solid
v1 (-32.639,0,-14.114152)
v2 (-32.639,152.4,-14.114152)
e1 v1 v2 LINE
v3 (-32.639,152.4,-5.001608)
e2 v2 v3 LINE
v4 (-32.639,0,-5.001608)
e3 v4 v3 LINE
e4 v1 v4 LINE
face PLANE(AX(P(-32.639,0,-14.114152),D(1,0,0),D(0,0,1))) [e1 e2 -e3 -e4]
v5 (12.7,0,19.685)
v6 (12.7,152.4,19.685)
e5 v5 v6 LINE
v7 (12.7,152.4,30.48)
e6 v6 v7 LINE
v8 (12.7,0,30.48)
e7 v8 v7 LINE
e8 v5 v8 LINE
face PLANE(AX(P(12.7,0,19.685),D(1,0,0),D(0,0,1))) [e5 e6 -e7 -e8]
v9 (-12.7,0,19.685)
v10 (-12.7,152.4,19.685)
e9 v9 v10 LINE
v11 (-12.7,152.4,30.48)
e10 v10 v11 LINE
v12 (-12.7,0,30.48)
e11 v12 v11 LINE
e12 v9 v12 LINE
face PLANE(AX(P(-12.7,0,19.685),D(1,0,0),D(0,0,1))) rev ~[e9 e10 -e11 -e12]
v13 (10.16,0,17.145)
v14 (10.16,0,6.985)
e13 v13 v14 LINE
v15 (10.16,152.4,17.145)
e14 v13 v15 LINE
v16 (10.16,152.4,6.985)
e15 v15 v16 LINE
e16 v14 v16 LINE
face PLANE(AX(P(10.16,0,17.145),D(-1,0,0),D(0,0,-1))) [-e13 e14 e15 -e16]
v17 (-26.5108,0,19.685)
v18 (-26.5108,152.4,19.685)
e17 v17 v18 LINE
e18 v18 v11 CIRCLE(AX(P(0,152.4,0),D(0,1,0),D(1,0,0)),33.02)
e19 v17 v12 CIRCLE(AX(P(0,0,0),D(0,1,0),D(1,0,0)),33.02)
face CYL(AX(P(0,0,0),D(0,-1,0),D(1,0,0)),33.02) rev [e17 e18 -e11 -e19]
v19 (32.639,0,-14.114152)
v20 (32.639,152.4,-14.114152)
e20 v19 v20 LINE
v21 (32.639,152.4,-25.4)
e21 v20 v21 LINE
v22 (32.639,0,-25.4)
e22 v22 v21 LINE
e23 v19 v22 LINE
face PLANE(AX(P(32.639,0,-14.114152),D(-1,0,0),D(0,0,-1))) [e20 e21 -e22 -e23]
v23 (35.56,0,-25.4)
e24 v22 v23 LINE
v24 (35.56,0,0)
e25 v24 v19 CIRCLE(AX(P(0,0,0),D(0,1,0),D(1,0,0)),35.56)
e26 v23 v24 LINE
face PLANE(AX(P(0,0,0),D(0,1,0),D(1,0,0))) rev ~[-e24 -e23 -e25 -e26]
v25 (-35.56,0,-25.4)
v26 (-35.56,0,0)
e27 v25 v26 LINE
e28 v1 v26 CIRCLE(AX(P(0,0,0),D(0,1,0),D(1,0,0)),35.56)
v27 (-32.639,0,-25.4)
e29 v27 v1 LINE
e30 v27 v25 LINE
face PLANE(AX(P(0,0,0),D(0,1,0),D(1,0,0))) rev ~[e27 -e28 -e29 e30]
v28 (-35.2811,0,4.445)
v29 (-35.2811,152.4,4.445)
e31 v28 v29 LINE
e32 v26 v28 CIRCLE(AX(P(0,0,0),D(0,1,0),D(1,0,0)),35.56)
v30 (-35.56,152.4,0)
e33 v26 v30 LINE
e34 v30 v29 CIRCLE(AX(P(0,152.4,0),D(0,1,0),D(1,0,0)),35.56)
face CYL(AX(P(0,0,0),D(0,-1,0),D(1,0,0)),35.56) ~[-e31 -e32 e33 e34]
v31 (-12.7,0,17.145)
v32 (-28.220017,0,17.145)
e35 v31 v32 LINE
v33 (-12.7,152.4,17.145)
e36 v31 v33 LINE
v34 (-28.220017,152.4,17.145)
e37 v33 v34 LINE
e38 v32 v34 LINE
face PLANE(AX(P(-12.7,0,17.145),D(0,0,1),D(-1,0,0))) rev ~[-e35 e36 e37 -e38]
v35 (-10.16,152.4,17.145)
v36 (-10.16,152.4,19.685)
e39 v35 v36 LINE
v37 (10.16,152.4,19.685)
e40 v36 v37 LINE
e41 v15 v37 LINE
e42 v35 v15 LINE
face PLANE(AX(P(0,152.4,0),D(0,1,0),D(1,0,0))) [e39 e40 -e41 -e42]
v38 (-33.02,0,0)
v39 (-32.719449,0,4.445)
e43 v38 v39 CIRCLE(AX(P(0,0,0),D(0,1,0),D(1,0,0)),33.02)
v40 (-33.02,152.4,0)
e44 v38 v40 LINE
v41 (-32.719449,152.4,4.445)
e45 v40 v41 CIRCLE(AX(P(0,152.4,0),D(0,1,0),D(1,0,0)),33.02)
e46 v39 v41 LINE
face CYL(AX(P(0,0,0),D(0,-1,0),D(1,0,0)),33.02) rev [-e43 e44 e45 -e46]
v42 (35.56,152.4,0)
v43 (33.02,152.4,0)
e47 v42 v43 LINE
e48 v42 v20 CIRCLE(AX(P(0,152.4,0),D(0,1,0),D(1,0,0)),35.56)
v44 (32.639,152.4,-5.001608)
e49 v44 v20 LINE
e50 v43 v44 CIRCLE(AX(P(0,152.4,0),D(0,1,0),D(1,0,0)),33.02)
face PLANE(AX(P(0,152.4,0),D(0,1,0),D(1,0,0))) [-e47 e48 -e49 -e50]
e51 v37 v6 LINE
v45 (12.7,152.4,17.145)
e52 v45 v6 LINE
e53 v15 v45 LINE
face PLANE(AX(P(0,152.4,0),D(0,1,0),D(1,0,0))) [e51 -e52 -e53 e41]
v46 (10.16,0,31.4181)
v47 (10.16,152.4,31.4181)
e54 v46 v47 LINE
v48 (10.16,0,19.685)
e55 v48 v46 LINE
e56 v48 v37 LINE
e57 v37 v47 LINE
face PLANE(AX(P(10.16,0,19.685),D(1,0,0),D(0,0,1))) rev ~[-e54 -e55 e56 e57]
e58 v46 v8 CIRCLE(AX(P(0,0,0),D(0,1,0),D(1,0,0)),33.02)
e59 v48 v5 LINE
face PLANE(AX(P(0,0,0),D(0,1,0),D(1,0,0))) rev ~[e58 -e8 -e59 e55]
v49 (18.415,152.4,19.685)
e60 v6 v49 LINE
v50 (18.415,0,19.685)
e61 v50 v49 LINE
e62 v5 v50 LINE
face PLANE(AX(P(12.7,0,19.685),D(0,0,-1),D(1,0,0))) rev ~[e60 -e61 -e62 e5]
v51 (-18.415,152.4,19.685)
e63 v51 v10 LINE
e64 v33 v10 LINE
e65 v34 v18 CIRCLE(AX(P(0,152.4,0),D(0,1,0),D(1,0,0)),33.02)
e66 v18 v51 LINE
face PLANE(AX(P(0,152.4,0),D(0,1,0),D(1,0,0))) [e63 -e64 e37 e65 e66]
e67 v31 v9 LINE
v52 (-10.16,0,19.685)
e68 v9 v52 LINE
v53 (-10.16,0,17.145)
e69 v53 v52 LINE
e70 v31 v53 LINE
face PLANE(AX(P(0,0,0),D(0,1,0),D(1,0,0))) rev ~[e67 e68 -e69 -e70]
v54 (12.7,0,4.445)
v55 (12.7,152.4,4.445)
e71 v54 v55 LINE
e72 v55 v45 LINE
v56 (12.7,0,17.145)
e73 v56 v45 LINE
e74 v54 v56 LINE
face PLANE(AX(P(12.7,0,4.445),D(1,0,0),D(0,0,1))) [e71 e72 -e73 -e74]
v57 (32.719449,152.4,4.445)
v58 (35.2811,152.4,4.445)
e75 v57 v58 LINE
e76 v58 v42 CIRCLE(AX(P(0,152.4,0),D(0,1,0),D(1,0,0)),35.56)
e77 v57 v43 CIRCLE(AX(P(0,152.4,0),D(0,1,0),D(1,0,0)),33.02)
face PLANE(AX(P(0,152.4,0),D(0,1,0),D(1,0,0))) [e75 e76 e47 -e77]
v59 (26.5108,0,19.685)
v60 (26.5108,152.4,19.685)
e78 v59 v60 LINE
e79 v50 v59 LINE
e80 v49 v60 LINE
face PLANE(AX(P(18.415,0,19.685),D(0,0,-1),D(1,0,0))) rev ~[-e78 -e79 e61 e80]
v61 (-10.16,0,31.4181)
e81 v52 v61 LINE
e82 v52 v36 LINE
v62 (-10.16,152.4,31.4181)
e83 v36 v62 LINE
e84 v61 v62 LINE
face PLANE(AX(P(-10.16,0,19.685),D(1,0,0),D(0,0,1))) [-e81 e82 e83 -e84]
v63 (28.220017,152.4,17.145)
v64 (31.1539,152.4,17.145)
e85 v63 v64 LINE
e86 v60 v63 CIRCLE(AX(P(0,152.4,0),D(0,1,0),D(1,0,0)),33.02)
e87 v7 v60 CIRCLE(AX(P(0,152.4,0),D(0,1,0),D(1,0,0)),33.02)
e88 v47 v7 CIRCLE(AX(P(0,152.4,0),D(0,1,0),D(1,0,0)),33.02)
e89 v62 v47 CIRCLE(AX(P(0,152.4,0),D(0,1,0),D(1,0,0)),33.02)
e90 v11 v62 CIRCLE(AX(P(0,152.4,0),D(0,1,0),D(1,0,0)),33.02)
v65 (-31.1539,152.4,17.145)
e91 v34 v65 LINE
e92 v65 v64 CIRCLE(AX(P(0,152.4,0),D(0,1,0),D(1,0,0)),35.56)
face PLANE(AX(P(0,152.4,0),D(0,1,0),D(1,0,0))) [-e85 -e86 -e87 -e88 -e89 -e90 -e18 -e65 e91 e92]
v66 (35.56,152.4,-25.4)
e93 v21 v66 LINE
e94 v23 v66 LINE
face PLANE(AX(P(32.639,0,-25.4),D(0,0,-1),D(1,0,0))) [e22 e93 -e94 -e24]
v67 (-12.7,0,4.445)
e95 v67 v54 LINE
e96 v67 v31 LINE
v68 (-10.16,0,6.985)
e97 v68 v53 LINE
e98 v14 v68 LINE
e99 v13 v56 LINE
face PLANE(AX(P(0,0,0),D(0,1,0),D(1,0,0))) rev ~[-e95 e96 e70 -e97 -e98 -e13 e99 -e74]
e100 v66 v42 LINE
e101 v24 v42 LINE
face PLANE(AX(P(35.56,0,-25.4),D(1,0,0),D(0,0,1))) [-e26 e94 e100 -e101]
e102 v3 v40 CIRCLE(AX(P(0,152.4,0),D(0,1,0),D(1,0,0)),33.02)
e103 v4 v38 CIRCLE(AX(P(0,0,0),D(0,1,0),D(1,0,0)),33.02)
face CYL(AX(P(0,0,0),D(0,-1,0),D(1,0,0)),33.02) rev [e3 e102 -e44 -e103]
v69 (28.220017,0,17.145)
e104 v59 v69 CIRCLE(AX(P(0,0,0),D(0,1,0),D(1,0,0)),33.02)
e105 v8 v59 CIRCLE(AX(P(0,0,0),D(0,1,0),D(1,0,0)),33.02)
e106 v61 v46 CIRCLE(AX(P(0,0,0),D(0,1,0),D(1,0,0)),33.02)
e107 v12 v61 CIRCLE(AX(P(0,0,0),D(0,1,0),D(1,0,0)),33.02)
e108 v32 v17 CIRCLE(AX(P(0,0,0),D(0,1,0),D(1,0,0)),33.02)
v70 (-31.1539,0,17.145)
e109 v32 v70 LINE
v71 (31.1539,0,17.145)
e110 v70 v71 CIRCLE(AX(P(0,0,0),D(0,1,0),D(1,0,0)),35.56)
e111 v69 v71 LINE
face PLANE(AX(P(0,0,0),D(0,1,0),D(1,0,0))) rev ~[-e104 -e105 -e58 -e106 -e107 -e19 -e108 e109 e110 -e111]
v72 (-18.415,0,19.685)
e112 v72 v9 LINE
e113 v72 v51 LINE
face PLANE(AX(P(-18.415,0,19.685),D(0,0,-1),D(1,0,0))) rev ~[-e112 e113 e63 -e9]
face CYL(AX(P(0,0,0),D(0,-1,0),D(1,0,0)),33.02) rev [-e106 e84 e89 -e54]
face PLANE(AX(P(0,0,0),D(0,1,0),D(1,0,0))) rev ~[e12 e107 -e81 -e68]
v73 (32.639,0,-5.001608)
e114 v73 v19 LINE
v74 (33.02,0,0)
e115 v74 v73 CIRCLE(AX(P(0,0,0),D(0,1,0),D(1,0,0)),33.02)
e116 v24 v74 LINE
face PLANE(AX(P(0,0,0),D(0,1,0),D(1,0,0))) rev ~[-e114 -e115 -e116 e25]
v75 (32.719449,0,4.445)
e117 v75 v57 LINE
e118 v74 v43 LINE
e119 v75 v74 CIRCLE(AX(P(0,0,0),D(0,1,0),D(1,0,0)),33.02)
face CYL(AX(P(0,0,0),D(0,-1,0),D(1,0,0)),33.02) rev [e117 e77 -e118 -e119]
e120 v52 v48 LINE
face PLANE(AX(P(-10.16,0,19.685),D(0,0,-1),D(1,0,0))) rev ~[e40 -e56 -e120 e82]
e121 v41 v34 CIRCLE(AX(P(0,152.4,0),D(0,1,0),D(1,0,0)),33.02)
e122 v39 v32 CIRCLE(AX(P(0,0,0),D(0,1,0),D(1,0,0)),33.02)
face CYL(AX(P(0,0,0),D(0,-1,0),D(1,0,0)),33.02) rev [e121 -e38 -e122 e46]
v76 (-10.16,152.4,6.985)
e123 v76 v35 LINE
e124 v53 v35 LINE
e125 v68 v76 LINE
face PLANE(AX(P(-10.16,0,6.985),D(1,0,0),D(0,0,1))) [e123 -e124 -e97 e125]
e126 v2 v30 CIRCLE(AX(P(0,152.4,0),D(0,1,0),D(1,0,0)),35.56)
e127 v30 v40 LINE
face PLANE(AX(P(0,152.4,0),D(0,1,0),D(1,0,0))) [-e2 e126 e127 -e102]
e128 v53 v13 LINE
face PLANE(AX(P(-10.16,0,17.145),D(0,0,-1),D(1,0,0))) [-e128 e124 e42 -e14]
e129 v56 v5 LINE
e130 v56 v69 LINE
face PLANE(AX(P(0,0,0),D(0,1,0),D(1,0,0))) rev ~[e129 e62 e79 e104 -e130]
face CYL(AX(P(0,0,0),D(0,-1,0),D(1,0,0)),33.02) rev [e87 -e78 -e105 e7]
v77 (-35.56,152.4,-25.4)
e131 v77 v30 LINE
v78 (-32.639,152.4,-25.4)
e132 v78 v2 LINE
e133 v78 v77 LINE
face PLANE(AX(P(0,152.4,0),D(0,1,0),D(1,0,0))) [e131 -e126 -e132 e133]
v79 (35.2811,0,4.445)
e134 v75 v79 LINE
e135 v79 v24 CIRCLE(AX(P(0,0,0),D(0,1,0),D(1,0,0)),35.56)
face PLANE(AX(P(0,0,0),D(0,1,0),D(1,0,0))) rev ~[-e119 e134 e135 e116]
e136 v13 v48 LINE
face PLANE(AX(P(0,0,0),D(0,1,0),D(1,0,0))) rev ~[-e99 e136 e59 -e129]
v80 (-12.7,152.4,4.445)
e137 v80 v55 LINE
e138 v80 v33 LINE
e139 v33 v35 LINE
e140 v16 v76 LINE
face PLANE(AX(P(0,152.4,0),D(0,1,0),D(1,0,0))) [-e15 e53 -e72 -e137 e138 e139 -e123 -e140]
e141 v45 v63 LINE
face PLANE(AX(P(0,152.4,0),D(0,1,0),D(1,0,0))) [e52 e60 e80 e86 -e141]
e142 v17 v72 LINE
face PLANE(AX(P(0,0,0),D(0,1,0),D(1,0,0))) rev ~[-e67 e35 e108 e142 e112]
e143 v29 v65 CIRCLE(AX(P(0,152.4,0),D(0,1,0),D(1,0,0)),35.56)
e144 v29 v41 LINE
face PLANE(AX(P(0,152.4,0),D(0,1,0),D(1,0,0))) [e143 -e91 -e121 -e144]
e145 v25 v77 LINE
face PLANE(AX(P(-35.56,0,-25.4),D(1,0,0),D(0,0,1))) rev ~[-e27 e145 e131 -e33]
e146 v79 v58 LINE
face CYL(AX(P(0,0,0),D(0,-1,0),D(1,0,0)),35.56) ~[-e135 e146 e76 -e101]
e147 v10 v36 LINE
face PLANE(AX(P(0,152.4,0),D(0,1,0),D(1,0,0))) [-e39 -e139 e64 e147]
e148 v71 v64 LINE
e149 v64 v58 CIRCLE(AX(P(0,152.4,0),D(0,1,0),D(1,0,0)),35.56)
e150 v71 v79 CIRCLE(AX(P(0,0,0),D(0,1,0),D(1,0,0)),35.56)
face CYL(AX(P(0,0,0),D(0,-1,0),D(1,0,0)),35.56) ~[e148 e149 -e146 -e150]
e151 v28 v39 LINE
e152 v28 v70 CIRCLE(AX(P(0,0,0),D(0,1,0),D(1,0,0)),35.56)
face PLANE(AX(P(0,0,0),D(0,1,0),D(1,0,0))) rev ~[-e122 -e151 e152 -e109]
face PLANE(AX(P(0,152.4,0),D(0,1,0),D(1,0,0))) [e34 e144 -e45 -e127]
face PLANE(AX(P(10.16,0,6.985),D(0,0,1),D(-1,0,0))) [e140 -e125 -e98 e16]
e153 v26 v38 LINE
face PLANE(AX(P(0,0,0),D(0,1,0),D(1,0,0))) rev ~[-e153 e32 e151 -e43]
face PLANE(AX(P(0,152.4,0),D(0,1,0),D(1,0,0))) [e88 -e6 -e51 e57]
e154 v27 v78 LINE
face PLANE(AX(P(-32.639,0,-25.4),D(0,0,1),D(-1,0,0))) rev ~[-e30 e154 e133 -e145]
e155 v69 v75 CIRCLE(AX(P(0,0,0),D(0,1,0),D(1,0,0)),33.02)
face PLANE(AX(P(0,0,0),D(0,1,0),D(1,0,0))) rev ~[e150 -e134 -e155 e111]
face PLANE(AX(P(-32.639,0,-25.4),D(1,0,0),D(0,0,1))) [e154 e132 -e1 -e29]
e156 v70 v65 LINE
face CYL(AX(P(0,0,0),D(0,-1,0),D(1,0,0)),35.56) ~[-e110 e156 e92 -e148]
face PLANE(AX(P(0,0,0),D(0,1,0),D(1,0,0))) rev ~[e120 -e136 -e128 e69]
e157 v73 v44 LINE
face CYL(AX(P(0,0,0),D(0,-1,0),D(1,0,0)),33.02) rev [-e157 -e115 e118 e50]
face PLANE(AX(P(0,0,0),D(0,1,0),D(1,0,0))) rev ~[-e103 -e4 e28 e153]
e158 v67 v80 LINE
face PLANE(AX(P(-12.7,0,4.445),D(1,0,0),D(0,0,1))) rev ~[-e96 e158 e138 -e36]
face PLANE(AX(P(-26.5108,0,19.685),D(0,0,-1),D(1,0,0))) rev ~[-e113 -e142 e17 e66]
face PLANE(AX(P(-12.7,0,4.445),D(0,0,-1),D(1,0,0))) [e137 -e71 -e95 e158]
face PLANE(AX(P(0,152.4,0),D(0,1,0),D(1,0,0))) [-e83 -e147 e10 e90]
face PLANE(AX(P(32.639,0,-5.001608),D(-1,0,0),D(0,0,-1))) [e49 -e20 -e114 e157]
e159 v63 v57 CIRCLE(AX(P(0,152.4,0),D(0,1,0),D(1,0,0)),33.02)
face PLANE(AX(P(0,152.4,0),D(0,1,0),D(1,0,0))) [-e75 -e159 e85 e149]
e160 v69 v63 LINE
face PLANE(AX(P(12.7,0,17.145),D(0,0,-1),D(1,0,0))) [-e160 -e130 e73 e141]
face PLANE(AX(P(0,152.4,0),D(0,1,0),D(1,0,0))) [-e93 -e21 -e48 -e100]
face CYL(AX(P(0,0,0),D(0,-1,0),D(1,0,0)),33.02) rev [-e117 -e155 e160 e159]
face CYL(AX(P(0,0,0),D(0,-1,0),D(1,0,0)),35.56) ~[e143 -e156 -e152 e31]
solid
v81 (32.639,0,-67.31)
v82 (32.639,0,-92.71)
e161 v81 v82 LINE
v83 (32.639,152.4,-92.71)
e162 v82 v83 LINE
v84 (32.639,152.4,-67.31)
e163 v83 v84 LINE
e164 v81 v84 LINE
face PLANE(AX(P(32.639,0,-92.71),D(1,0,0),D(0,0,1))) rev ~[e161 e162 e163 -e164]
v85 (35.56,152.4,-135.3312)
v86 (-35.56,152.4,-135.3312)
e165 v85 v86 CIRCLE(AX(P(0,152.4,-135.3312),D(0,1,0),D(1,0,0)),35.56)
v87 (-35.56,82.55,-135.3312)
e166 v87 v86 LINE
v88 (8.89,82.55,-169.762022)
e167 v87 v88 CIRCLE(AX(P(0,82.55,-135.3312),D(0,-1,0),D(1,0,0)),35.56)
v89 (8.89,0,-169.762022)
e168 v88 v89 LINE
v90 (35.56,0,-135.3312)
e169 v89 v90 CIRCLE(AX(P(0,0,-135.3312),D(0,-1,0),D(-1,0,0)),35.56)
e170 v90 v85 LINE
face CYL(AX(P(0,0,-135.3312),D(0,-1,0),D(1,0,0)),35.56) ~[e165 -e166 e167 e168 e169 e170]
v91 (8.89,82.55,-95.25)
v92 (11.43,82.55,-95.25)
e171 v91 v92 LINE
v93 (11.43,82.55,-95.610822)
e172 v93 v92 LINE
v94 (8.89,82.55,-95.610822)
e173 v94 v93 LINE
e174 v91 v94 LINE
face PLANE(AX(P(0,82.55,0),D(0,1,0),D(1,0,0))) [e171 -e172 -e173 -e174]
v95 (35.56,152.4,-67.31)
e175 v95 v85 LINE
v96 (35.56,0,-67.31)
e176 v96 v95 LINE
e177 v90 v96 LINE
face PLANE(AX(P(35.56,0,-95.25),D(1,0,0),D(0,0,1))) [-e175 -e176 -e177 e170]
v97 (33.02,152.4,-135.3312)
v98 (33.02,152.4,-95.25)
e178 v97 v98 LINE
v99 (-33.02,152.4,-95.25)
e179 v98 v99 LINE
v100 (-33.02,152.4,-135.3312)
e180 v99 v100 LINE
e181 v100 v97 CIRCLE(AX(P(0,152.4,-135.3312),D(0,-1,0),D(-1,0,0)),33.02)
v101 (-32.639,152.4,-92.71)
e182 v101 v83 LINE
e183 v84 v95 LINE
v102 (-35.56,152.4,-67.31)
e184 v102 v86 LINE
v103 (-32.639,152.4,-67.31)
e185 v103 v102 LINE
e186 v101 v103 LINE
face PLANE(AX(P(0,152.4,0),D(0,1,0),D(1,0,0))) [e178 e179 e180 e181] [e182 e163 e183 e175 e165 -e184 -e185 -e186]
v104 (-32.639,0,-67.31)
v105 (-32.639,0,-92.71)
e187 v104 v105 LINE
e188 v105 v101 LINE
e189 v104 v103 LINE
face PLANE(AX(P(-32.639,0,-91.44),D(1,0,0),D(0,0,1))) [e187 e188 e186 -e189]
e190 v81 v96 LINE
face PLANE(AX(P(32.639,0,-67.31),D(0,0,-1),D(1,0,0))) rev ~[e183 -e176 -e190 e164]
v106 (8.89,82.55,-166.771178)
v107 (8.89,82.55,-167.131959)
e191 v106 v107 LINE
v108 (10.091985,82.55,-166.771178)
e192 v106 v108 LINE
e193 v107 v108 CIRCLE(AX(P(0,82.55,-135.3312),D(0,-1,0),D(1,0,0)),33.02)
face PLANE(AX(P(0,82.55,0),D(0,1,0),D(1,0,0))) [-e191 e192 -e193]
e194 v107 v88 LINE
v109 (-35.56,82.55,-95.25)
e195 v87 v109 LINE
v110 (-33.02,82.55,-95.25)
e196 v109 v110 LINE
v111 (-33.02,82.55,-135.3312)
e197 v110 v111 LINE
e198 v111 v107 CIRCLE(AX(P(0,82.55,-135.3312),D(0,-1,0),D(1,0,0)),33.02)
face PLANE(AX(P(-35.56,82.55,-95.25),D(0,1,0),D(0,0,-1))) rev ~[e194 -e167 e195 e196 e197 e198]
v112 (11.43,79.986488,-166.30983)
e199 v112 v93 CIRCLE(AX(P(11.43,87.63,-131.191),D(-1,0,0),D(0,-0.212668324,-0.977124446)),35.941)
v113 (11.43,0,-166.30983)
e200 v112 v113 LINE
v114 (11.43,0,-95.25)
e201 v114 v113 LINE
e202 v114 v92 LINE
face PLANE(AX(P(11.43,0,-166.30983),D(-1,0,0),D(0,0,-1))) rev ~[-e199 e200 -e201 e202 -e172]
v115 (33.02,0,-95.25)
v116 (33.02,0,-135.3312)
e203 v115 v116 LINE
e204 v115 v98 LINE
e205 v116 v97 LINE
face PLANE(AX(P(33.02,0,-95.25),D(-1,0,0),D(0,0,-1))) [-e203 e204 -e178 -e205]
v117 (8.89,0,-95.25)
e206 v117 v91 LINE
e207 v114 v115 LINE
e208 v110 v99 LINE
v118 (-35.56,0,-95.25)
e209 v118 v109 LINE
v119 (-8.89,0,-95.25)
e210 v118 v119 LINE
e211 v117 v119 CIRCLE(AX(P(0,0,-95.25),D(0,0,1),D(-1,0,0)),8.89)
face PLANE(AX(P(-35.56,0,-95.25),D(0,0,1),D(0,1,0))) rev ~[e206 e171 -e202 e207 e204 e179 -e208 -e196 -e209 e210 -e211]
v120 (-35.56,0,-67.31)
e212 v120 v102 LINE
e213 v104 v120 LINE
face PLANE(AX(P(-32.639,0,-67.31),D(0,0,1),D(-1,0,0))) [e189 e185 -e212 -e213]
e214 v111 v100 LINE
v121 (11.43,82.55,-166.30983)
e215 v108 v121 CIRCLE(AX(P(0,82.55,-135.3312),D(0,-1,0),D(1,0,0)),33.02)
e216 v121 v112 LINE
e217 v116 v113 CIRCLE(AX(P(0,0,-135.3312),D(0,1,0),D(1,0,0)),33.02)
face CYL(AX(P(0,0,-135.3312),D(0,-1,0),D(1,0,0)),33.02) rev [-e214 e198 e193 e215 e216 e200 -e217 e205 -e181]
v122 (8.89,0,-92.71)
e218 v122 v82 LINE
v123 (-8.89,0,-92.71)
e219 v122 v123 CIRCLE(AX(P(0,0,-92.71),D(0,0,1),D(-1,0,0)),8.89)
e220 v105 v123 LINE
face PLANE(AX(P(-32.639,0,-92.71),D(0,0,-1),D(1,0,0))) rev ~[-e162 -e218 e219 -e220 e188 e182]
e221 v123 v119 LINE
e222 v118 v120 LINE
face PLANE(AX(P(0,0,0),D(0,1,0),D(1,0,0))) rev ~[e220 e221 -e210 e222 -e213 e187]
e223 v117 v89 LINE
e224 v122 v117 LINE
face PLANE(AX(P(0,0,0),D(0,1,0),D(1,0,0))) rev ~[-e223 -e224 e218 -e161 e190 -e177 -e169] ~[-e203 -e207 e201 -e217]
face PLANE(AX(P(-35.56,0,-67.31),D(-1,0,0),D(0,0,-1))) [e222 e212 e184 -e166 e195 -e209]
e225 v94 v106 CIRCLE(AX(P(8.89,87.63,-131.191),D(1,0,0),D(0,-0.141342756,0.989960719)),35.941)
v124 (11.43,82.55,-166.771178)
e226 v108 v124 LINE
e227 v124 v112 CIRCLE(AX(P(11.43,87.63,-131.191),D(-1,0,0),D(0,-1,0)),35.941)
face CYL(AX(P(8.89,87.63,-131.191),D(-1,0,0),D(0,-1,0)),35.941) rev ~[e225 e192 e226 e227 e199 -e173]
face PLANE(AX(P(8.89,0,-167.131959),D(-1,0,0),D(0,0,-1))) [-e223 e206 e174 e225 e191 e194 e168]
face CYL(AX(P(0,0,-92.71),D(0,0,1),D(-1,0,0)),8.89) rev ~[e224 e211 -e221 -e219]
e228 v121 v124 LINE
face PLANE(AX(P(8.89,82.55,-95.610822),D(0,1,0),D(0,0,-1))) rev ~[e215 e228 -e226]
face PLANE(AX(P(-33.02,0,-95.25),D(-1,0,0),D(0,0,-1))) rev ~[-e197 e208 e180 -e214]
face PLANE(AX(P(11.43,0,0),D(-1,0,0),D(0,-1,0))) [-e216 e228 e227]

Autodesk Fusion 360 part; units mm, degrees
sketch "Front" plane through (0, 0, 0) normal (0, 1, 0) x (1, 0, 0)
  circle A0 centre (0, 0) radius 35.56
  line L0 (-123.0104, 0) -> (123.0104, 0) construction
  line L1 (-35.2811, -4.445) -> (35.2811, -4.445)
  line L2 (0, -192.2069) -> (0, 192.2069) construction
  line L3 (-32.639, -3.175) -> (32.639, -3.175)
  line L4 (32.639, -3.175) -> (32.639, 91.44)
  line L5 (32.639, 91.44) -> (-32.639, 91.44)
  line L6 (-32.639, 91.44) -> (-32.639, -3.175)
  line L7 (-32.639, 91.44) -> (32.639, -3.175) construction
  line L8 (-32.639, -3.175) -> (32.639, 91.44) construction
  line L9 (12.7, -4.445) -> (12.7, -17.145)
  circle A1 centre (0, 135.3312) radius 35.56
  line L10 (-118.5711, 135.3312) -> (118.5711, 135.3312) construction
  line L11 (-121.8331, -35.56) -> (121.8331, -35.56) construction
  line L12 (-118.3233, 170.8912) -> (118.3233, 170.8912) construction
  line L13 (-35.56, 92.71) -> (35.56, 92.71)
  line L14 (-35.56, 135.3312) -> (-35.56, 92.71)
  line L15 (35.56, 135.3312) -> (35.56, 92.71)
  line L16 (12.7, -17.145) -> (31.1539, -17.145)
  line L17 (-12.7, -4.445) -> (-12.7, -17.145)
  line L18 (-12.7, -17.145) -> (-31.1539, -17.145)
  line L19 (-35.56, 92.71) -> (-32.639, 92.71)
  line L20 (-32.639, 92.71) -> (-32.639, 67.31)
  line L21 (-32.639, 67.31) -> (-35.56, 67.31)
  line L22 (-35.56, 67.31) -> (-35.56, 92.71)
  line L23 (35.56, 92.71) -> (32.639, 92.71)
  line L24 (32.639, 92.71) -> (32.639, 67.31)
  line L25 (32.639, 67.31) -> (35.56, 67.31)
  line L26 (35.56, 67.31) -> (35.56, 92.71)
  line L27 (-35.56, 95.25) -> (35.56, 95.25)
  circle A2 centre (0, 0) radius 33.02
  circle A3 centre (0, 135.3312) radius 33.02
  line L28 (-26.5108, -19.685) -> (-18.415, -19.685)
  line L29 (18.415, -19.685) -> (26.5108, -19.685)
  line L30 (10.16, -17.145) -> (10.16, -6.985)
  line L31 (10.16, -6.985) -> (-10.16, -6.985)
  line L32 (-10.16, -6.985) -> (-10.16, -17.145)
  line L33 (-18.415, -19.685) -> (18.415, -19.685)
  line L34 (-12.7, -17.145) -> (12.7, -17.145)
  line L35 (-33.02, 95.25) -> (-33.02, 135.3312)
  line L36 (33.02, 95.25) -> (33.02, 135.3312)
  line L37 (8.89, 95.25) -> (8.89, 169.762)
  line L38 (11.43, 95.25) -> (11.43, 169.0042)
  line L39 (-12.7, -17.145) -> (-12.7, -30.48)
  line L40 (-10.16, -17.145) -> (-10.16, -31.4181)
  line L41 (10.16, -17.145) -> (10.16, -31.4181)
  line L42 (12.7, -17.145) -> (12.7, -30.48)
  line L43 (-35.56, 0) -> (-32.639, 0)
  line L44 (-32.639, 0) -> (-32.639, 25.4)
  line L45 (-32.639, 25.4) -> (-35.56, 25.4)
  line L46 (-35.56, 25.4) -> (-35.56, 0)
  line L47 (35.56, 0) -> (32.639, 0)
  line L48 (32.639, 0) -> (32.639, 25.4)
  line L49 (32.639, 25.4) -> (35.56, 25.4)
  line L50 (35.56, 25.4) -> (35.56, 0)
  point P0 (0, 44.1325)
  point P1 (0, -35.56)
  point P2 (0, -12.7)
  point P3 (0, 170.8912)
  point P4 (0, 148.0312)
  dimension "d1" = 71.12
  dimension "d4" = 65.278
  dimension "d5" = 94.615
  dimension "d14" = 71.12
  dimension "d15" = 135.3312
  dimension "d17" = 1.27
  dimension "d23" = 1.27
  dimension "d31" = 31.115
  dimension "d32" = 206.4512
  dimension "d33" = 78.1812
  dimension "d34" = 12.7
  dimension "d35" = 12.7
  dimension "d39" = 12.7
  dimension "d40" = 12.7
  dimension "d45" = 25.4
  dimension "d46" = 25.4
  dimension "d51" = 2.54
  dimension "d56" = 66.04
  dimension "d58" = 66.04
  dimension "d59" = 2.54
  dimension "d60" = 2.54
  dimension "d63" = 2.54
  dimension "d64" = 2.54
  dimension "d66" = 2.54
  dimension "d74" = 2.54
  dimension "d75" = 2.54
  dimension "d79" = 2.54
  dimension "d80" = 44.45
  dimension "d90" = 44.45
  dimension "d92" = 40.0812
  dimension "d102" = 25.4
  dimension "d103" = 25.4
extrude "Extrude1" add sketch "Front" along normal blind 152.4 contours A0 L1 A2 L43 | A0 L6 L44 L45 L46 | A0 L6 A2 L43 L44 | A0 L1 L18 A2 | A0 L16 L18 A2 | A0 L4 L48 L49 L50 | A0 L4 A2 L47 L48 | A0 L1 L16 A2 | L18 A2 L28 L33 L39 | L1 L9 L17 L30 L31 L32 L34 | A0 L1 A2 L47 | L16 A2 L29 L33 L42 | L33 L34 L39 L40 | L33 L34 L41 L42 | L33 L34 L40 L41 | A2 L33 L39 L40 | A2 L33 L41 L42 makes body 1
extrude "Extrude9" add sketch "Front" along normal blind 152.4 separate body contours L6 L13 L19 L20 L21 L22 | L4 L13 L23 L24 L25 L26 | L13 L14 L15 L19 L23 L27 | A1 L14 L27 L35 | A1 L15 L27 L36 | A1 A3 L35 L37 | A1 A3 L36 L38 | A1 A3 L37 L38 picked at (5.7285, 169.4993) picked at (12.9397, 167.4743) picked at (9.4589, 167.8477) makes body 2
extrude "Extrude10" add sketch "Front" along normal blind 82.55 contours A1 A3 L37 L38 | A1 L27 L37 L38 | A3 L37 L38 | A1 A3 L37 L38 bodies 2
sketch "Motor Cut-out" plane through (-35.56, 0, 0) normal (-1, 0, 0) x (0, -1, 0)
  line L0 (0, -135.3312) -> (0, -67.31)
  line L1 (0, -67.31) -> (-152.4, -67.31)
  line L2 (-152.4, -67.31) -> (-152.4, -135.3312)
  line L3 (-152.4, -135.3312) -> (0, -135.3312)
  line L4 (0, -95.25) -> (-82.55, -95.25)
  line L5 (-82.55, -95.25) -> (-82.55, -172.55)
  line L6 (-82.55, -172.55) -> (0, -172.55)
  line L7 (0, -172.55) -> (0, -95.25)
  dimension "d86" = 82.55
  dimension "d91" = 40.0812
extrude "Extrude11" cut sketch "Motor Cut-out" against normal blind 44.45 contours L0 L3 L4 L5 L7 | L3 L5 L6 L7 bodies 2
sketch "3d-Print Arch" plane through (8.89, 0, 0) normal (-1, 0, 0) x (0, -1, 0)
  line L0 (0, -169.762) -> (0, -95.25)
  line L1 (0, -95.25) -> (-82.55, -95.25)
  line L2 (-82.55, -95.25) -> (-82.55, -167.132)
  line L3 (-82.55, -167.132) -> (-82.55, -169.762)
  line L4 (-82.55, -169.762) -> (0, -169.762)
  line L5 (-82.55, -95.25) -> (-82.55, -167.132) construction
  line L6 (-104.9543, -131.191) -> (-60.1457, -131.191) construction
  circle A0 centre (-87.63, -131.191) radius 35.941
  point P0 (-82.55, -131.191)
  dimension "d98" = 71.882
  dimension "d100" = 71.882
  dimension "d101" = 5.08
extrude "Extrude12" cut sketch "3d-Print Arch" against normal blind 2.54 contours L2 A0 picked at (-66.6022, -131.7672) bodies 2
sketch "Sketch8" plane through (0, 0, -92.71) normal (0, 0, 1) x (-1, 0, 0)
  line L0 (32.639, 0) -> (-32.639, 0)
  line L1 (-32.639, 0) -> (-32.639, -152.4)
  line L2 (-32.639, -152.4) -> (32.639, -152.4)
  line L3 (32.639, -152.4) -> (32.639, 0)
  circle A0 centre (0, 0) radius 8.89
  dimension "d104" = 17.78
extrude "Extrude13" cut sketch "Sketch8" against normal blind 12.7 contours L0 A0 picked at (-0.6008, -4.8695) bodies 2
equation "d1 = ( ( 1.5 * 2 ) * 1 in ) - ( ( 0.1 * 2 ) * 1 in )"
equation "d6 = ( ( 2.80 - 1 ) / 2 ) * 1 in"
equation "d10 = ( d1 - d4 - 0.1 in ) / 2"
equation "d14 = d1"
equation "d17 = d23"
equation "d33 = 2.75 in + 0.328 in"
equation "d35 = d34"
equation "d46 = d45"
equation "d56 = d1 - ( ( 0.1 * 2 ) * 1 in )"
equation "d58 = d1 - ( ( 0.1 * 2 ) * 1 in )"
equation "d83 = 6 in - 2.75 in"
equation "d86 = 6 in - 2.75 in"
equation "d97 = ( ( 2.9335441712 / 2 ) * 1 in ) - 0.1 in"
equation "d102 = d45"
equation "d103 = d45"
